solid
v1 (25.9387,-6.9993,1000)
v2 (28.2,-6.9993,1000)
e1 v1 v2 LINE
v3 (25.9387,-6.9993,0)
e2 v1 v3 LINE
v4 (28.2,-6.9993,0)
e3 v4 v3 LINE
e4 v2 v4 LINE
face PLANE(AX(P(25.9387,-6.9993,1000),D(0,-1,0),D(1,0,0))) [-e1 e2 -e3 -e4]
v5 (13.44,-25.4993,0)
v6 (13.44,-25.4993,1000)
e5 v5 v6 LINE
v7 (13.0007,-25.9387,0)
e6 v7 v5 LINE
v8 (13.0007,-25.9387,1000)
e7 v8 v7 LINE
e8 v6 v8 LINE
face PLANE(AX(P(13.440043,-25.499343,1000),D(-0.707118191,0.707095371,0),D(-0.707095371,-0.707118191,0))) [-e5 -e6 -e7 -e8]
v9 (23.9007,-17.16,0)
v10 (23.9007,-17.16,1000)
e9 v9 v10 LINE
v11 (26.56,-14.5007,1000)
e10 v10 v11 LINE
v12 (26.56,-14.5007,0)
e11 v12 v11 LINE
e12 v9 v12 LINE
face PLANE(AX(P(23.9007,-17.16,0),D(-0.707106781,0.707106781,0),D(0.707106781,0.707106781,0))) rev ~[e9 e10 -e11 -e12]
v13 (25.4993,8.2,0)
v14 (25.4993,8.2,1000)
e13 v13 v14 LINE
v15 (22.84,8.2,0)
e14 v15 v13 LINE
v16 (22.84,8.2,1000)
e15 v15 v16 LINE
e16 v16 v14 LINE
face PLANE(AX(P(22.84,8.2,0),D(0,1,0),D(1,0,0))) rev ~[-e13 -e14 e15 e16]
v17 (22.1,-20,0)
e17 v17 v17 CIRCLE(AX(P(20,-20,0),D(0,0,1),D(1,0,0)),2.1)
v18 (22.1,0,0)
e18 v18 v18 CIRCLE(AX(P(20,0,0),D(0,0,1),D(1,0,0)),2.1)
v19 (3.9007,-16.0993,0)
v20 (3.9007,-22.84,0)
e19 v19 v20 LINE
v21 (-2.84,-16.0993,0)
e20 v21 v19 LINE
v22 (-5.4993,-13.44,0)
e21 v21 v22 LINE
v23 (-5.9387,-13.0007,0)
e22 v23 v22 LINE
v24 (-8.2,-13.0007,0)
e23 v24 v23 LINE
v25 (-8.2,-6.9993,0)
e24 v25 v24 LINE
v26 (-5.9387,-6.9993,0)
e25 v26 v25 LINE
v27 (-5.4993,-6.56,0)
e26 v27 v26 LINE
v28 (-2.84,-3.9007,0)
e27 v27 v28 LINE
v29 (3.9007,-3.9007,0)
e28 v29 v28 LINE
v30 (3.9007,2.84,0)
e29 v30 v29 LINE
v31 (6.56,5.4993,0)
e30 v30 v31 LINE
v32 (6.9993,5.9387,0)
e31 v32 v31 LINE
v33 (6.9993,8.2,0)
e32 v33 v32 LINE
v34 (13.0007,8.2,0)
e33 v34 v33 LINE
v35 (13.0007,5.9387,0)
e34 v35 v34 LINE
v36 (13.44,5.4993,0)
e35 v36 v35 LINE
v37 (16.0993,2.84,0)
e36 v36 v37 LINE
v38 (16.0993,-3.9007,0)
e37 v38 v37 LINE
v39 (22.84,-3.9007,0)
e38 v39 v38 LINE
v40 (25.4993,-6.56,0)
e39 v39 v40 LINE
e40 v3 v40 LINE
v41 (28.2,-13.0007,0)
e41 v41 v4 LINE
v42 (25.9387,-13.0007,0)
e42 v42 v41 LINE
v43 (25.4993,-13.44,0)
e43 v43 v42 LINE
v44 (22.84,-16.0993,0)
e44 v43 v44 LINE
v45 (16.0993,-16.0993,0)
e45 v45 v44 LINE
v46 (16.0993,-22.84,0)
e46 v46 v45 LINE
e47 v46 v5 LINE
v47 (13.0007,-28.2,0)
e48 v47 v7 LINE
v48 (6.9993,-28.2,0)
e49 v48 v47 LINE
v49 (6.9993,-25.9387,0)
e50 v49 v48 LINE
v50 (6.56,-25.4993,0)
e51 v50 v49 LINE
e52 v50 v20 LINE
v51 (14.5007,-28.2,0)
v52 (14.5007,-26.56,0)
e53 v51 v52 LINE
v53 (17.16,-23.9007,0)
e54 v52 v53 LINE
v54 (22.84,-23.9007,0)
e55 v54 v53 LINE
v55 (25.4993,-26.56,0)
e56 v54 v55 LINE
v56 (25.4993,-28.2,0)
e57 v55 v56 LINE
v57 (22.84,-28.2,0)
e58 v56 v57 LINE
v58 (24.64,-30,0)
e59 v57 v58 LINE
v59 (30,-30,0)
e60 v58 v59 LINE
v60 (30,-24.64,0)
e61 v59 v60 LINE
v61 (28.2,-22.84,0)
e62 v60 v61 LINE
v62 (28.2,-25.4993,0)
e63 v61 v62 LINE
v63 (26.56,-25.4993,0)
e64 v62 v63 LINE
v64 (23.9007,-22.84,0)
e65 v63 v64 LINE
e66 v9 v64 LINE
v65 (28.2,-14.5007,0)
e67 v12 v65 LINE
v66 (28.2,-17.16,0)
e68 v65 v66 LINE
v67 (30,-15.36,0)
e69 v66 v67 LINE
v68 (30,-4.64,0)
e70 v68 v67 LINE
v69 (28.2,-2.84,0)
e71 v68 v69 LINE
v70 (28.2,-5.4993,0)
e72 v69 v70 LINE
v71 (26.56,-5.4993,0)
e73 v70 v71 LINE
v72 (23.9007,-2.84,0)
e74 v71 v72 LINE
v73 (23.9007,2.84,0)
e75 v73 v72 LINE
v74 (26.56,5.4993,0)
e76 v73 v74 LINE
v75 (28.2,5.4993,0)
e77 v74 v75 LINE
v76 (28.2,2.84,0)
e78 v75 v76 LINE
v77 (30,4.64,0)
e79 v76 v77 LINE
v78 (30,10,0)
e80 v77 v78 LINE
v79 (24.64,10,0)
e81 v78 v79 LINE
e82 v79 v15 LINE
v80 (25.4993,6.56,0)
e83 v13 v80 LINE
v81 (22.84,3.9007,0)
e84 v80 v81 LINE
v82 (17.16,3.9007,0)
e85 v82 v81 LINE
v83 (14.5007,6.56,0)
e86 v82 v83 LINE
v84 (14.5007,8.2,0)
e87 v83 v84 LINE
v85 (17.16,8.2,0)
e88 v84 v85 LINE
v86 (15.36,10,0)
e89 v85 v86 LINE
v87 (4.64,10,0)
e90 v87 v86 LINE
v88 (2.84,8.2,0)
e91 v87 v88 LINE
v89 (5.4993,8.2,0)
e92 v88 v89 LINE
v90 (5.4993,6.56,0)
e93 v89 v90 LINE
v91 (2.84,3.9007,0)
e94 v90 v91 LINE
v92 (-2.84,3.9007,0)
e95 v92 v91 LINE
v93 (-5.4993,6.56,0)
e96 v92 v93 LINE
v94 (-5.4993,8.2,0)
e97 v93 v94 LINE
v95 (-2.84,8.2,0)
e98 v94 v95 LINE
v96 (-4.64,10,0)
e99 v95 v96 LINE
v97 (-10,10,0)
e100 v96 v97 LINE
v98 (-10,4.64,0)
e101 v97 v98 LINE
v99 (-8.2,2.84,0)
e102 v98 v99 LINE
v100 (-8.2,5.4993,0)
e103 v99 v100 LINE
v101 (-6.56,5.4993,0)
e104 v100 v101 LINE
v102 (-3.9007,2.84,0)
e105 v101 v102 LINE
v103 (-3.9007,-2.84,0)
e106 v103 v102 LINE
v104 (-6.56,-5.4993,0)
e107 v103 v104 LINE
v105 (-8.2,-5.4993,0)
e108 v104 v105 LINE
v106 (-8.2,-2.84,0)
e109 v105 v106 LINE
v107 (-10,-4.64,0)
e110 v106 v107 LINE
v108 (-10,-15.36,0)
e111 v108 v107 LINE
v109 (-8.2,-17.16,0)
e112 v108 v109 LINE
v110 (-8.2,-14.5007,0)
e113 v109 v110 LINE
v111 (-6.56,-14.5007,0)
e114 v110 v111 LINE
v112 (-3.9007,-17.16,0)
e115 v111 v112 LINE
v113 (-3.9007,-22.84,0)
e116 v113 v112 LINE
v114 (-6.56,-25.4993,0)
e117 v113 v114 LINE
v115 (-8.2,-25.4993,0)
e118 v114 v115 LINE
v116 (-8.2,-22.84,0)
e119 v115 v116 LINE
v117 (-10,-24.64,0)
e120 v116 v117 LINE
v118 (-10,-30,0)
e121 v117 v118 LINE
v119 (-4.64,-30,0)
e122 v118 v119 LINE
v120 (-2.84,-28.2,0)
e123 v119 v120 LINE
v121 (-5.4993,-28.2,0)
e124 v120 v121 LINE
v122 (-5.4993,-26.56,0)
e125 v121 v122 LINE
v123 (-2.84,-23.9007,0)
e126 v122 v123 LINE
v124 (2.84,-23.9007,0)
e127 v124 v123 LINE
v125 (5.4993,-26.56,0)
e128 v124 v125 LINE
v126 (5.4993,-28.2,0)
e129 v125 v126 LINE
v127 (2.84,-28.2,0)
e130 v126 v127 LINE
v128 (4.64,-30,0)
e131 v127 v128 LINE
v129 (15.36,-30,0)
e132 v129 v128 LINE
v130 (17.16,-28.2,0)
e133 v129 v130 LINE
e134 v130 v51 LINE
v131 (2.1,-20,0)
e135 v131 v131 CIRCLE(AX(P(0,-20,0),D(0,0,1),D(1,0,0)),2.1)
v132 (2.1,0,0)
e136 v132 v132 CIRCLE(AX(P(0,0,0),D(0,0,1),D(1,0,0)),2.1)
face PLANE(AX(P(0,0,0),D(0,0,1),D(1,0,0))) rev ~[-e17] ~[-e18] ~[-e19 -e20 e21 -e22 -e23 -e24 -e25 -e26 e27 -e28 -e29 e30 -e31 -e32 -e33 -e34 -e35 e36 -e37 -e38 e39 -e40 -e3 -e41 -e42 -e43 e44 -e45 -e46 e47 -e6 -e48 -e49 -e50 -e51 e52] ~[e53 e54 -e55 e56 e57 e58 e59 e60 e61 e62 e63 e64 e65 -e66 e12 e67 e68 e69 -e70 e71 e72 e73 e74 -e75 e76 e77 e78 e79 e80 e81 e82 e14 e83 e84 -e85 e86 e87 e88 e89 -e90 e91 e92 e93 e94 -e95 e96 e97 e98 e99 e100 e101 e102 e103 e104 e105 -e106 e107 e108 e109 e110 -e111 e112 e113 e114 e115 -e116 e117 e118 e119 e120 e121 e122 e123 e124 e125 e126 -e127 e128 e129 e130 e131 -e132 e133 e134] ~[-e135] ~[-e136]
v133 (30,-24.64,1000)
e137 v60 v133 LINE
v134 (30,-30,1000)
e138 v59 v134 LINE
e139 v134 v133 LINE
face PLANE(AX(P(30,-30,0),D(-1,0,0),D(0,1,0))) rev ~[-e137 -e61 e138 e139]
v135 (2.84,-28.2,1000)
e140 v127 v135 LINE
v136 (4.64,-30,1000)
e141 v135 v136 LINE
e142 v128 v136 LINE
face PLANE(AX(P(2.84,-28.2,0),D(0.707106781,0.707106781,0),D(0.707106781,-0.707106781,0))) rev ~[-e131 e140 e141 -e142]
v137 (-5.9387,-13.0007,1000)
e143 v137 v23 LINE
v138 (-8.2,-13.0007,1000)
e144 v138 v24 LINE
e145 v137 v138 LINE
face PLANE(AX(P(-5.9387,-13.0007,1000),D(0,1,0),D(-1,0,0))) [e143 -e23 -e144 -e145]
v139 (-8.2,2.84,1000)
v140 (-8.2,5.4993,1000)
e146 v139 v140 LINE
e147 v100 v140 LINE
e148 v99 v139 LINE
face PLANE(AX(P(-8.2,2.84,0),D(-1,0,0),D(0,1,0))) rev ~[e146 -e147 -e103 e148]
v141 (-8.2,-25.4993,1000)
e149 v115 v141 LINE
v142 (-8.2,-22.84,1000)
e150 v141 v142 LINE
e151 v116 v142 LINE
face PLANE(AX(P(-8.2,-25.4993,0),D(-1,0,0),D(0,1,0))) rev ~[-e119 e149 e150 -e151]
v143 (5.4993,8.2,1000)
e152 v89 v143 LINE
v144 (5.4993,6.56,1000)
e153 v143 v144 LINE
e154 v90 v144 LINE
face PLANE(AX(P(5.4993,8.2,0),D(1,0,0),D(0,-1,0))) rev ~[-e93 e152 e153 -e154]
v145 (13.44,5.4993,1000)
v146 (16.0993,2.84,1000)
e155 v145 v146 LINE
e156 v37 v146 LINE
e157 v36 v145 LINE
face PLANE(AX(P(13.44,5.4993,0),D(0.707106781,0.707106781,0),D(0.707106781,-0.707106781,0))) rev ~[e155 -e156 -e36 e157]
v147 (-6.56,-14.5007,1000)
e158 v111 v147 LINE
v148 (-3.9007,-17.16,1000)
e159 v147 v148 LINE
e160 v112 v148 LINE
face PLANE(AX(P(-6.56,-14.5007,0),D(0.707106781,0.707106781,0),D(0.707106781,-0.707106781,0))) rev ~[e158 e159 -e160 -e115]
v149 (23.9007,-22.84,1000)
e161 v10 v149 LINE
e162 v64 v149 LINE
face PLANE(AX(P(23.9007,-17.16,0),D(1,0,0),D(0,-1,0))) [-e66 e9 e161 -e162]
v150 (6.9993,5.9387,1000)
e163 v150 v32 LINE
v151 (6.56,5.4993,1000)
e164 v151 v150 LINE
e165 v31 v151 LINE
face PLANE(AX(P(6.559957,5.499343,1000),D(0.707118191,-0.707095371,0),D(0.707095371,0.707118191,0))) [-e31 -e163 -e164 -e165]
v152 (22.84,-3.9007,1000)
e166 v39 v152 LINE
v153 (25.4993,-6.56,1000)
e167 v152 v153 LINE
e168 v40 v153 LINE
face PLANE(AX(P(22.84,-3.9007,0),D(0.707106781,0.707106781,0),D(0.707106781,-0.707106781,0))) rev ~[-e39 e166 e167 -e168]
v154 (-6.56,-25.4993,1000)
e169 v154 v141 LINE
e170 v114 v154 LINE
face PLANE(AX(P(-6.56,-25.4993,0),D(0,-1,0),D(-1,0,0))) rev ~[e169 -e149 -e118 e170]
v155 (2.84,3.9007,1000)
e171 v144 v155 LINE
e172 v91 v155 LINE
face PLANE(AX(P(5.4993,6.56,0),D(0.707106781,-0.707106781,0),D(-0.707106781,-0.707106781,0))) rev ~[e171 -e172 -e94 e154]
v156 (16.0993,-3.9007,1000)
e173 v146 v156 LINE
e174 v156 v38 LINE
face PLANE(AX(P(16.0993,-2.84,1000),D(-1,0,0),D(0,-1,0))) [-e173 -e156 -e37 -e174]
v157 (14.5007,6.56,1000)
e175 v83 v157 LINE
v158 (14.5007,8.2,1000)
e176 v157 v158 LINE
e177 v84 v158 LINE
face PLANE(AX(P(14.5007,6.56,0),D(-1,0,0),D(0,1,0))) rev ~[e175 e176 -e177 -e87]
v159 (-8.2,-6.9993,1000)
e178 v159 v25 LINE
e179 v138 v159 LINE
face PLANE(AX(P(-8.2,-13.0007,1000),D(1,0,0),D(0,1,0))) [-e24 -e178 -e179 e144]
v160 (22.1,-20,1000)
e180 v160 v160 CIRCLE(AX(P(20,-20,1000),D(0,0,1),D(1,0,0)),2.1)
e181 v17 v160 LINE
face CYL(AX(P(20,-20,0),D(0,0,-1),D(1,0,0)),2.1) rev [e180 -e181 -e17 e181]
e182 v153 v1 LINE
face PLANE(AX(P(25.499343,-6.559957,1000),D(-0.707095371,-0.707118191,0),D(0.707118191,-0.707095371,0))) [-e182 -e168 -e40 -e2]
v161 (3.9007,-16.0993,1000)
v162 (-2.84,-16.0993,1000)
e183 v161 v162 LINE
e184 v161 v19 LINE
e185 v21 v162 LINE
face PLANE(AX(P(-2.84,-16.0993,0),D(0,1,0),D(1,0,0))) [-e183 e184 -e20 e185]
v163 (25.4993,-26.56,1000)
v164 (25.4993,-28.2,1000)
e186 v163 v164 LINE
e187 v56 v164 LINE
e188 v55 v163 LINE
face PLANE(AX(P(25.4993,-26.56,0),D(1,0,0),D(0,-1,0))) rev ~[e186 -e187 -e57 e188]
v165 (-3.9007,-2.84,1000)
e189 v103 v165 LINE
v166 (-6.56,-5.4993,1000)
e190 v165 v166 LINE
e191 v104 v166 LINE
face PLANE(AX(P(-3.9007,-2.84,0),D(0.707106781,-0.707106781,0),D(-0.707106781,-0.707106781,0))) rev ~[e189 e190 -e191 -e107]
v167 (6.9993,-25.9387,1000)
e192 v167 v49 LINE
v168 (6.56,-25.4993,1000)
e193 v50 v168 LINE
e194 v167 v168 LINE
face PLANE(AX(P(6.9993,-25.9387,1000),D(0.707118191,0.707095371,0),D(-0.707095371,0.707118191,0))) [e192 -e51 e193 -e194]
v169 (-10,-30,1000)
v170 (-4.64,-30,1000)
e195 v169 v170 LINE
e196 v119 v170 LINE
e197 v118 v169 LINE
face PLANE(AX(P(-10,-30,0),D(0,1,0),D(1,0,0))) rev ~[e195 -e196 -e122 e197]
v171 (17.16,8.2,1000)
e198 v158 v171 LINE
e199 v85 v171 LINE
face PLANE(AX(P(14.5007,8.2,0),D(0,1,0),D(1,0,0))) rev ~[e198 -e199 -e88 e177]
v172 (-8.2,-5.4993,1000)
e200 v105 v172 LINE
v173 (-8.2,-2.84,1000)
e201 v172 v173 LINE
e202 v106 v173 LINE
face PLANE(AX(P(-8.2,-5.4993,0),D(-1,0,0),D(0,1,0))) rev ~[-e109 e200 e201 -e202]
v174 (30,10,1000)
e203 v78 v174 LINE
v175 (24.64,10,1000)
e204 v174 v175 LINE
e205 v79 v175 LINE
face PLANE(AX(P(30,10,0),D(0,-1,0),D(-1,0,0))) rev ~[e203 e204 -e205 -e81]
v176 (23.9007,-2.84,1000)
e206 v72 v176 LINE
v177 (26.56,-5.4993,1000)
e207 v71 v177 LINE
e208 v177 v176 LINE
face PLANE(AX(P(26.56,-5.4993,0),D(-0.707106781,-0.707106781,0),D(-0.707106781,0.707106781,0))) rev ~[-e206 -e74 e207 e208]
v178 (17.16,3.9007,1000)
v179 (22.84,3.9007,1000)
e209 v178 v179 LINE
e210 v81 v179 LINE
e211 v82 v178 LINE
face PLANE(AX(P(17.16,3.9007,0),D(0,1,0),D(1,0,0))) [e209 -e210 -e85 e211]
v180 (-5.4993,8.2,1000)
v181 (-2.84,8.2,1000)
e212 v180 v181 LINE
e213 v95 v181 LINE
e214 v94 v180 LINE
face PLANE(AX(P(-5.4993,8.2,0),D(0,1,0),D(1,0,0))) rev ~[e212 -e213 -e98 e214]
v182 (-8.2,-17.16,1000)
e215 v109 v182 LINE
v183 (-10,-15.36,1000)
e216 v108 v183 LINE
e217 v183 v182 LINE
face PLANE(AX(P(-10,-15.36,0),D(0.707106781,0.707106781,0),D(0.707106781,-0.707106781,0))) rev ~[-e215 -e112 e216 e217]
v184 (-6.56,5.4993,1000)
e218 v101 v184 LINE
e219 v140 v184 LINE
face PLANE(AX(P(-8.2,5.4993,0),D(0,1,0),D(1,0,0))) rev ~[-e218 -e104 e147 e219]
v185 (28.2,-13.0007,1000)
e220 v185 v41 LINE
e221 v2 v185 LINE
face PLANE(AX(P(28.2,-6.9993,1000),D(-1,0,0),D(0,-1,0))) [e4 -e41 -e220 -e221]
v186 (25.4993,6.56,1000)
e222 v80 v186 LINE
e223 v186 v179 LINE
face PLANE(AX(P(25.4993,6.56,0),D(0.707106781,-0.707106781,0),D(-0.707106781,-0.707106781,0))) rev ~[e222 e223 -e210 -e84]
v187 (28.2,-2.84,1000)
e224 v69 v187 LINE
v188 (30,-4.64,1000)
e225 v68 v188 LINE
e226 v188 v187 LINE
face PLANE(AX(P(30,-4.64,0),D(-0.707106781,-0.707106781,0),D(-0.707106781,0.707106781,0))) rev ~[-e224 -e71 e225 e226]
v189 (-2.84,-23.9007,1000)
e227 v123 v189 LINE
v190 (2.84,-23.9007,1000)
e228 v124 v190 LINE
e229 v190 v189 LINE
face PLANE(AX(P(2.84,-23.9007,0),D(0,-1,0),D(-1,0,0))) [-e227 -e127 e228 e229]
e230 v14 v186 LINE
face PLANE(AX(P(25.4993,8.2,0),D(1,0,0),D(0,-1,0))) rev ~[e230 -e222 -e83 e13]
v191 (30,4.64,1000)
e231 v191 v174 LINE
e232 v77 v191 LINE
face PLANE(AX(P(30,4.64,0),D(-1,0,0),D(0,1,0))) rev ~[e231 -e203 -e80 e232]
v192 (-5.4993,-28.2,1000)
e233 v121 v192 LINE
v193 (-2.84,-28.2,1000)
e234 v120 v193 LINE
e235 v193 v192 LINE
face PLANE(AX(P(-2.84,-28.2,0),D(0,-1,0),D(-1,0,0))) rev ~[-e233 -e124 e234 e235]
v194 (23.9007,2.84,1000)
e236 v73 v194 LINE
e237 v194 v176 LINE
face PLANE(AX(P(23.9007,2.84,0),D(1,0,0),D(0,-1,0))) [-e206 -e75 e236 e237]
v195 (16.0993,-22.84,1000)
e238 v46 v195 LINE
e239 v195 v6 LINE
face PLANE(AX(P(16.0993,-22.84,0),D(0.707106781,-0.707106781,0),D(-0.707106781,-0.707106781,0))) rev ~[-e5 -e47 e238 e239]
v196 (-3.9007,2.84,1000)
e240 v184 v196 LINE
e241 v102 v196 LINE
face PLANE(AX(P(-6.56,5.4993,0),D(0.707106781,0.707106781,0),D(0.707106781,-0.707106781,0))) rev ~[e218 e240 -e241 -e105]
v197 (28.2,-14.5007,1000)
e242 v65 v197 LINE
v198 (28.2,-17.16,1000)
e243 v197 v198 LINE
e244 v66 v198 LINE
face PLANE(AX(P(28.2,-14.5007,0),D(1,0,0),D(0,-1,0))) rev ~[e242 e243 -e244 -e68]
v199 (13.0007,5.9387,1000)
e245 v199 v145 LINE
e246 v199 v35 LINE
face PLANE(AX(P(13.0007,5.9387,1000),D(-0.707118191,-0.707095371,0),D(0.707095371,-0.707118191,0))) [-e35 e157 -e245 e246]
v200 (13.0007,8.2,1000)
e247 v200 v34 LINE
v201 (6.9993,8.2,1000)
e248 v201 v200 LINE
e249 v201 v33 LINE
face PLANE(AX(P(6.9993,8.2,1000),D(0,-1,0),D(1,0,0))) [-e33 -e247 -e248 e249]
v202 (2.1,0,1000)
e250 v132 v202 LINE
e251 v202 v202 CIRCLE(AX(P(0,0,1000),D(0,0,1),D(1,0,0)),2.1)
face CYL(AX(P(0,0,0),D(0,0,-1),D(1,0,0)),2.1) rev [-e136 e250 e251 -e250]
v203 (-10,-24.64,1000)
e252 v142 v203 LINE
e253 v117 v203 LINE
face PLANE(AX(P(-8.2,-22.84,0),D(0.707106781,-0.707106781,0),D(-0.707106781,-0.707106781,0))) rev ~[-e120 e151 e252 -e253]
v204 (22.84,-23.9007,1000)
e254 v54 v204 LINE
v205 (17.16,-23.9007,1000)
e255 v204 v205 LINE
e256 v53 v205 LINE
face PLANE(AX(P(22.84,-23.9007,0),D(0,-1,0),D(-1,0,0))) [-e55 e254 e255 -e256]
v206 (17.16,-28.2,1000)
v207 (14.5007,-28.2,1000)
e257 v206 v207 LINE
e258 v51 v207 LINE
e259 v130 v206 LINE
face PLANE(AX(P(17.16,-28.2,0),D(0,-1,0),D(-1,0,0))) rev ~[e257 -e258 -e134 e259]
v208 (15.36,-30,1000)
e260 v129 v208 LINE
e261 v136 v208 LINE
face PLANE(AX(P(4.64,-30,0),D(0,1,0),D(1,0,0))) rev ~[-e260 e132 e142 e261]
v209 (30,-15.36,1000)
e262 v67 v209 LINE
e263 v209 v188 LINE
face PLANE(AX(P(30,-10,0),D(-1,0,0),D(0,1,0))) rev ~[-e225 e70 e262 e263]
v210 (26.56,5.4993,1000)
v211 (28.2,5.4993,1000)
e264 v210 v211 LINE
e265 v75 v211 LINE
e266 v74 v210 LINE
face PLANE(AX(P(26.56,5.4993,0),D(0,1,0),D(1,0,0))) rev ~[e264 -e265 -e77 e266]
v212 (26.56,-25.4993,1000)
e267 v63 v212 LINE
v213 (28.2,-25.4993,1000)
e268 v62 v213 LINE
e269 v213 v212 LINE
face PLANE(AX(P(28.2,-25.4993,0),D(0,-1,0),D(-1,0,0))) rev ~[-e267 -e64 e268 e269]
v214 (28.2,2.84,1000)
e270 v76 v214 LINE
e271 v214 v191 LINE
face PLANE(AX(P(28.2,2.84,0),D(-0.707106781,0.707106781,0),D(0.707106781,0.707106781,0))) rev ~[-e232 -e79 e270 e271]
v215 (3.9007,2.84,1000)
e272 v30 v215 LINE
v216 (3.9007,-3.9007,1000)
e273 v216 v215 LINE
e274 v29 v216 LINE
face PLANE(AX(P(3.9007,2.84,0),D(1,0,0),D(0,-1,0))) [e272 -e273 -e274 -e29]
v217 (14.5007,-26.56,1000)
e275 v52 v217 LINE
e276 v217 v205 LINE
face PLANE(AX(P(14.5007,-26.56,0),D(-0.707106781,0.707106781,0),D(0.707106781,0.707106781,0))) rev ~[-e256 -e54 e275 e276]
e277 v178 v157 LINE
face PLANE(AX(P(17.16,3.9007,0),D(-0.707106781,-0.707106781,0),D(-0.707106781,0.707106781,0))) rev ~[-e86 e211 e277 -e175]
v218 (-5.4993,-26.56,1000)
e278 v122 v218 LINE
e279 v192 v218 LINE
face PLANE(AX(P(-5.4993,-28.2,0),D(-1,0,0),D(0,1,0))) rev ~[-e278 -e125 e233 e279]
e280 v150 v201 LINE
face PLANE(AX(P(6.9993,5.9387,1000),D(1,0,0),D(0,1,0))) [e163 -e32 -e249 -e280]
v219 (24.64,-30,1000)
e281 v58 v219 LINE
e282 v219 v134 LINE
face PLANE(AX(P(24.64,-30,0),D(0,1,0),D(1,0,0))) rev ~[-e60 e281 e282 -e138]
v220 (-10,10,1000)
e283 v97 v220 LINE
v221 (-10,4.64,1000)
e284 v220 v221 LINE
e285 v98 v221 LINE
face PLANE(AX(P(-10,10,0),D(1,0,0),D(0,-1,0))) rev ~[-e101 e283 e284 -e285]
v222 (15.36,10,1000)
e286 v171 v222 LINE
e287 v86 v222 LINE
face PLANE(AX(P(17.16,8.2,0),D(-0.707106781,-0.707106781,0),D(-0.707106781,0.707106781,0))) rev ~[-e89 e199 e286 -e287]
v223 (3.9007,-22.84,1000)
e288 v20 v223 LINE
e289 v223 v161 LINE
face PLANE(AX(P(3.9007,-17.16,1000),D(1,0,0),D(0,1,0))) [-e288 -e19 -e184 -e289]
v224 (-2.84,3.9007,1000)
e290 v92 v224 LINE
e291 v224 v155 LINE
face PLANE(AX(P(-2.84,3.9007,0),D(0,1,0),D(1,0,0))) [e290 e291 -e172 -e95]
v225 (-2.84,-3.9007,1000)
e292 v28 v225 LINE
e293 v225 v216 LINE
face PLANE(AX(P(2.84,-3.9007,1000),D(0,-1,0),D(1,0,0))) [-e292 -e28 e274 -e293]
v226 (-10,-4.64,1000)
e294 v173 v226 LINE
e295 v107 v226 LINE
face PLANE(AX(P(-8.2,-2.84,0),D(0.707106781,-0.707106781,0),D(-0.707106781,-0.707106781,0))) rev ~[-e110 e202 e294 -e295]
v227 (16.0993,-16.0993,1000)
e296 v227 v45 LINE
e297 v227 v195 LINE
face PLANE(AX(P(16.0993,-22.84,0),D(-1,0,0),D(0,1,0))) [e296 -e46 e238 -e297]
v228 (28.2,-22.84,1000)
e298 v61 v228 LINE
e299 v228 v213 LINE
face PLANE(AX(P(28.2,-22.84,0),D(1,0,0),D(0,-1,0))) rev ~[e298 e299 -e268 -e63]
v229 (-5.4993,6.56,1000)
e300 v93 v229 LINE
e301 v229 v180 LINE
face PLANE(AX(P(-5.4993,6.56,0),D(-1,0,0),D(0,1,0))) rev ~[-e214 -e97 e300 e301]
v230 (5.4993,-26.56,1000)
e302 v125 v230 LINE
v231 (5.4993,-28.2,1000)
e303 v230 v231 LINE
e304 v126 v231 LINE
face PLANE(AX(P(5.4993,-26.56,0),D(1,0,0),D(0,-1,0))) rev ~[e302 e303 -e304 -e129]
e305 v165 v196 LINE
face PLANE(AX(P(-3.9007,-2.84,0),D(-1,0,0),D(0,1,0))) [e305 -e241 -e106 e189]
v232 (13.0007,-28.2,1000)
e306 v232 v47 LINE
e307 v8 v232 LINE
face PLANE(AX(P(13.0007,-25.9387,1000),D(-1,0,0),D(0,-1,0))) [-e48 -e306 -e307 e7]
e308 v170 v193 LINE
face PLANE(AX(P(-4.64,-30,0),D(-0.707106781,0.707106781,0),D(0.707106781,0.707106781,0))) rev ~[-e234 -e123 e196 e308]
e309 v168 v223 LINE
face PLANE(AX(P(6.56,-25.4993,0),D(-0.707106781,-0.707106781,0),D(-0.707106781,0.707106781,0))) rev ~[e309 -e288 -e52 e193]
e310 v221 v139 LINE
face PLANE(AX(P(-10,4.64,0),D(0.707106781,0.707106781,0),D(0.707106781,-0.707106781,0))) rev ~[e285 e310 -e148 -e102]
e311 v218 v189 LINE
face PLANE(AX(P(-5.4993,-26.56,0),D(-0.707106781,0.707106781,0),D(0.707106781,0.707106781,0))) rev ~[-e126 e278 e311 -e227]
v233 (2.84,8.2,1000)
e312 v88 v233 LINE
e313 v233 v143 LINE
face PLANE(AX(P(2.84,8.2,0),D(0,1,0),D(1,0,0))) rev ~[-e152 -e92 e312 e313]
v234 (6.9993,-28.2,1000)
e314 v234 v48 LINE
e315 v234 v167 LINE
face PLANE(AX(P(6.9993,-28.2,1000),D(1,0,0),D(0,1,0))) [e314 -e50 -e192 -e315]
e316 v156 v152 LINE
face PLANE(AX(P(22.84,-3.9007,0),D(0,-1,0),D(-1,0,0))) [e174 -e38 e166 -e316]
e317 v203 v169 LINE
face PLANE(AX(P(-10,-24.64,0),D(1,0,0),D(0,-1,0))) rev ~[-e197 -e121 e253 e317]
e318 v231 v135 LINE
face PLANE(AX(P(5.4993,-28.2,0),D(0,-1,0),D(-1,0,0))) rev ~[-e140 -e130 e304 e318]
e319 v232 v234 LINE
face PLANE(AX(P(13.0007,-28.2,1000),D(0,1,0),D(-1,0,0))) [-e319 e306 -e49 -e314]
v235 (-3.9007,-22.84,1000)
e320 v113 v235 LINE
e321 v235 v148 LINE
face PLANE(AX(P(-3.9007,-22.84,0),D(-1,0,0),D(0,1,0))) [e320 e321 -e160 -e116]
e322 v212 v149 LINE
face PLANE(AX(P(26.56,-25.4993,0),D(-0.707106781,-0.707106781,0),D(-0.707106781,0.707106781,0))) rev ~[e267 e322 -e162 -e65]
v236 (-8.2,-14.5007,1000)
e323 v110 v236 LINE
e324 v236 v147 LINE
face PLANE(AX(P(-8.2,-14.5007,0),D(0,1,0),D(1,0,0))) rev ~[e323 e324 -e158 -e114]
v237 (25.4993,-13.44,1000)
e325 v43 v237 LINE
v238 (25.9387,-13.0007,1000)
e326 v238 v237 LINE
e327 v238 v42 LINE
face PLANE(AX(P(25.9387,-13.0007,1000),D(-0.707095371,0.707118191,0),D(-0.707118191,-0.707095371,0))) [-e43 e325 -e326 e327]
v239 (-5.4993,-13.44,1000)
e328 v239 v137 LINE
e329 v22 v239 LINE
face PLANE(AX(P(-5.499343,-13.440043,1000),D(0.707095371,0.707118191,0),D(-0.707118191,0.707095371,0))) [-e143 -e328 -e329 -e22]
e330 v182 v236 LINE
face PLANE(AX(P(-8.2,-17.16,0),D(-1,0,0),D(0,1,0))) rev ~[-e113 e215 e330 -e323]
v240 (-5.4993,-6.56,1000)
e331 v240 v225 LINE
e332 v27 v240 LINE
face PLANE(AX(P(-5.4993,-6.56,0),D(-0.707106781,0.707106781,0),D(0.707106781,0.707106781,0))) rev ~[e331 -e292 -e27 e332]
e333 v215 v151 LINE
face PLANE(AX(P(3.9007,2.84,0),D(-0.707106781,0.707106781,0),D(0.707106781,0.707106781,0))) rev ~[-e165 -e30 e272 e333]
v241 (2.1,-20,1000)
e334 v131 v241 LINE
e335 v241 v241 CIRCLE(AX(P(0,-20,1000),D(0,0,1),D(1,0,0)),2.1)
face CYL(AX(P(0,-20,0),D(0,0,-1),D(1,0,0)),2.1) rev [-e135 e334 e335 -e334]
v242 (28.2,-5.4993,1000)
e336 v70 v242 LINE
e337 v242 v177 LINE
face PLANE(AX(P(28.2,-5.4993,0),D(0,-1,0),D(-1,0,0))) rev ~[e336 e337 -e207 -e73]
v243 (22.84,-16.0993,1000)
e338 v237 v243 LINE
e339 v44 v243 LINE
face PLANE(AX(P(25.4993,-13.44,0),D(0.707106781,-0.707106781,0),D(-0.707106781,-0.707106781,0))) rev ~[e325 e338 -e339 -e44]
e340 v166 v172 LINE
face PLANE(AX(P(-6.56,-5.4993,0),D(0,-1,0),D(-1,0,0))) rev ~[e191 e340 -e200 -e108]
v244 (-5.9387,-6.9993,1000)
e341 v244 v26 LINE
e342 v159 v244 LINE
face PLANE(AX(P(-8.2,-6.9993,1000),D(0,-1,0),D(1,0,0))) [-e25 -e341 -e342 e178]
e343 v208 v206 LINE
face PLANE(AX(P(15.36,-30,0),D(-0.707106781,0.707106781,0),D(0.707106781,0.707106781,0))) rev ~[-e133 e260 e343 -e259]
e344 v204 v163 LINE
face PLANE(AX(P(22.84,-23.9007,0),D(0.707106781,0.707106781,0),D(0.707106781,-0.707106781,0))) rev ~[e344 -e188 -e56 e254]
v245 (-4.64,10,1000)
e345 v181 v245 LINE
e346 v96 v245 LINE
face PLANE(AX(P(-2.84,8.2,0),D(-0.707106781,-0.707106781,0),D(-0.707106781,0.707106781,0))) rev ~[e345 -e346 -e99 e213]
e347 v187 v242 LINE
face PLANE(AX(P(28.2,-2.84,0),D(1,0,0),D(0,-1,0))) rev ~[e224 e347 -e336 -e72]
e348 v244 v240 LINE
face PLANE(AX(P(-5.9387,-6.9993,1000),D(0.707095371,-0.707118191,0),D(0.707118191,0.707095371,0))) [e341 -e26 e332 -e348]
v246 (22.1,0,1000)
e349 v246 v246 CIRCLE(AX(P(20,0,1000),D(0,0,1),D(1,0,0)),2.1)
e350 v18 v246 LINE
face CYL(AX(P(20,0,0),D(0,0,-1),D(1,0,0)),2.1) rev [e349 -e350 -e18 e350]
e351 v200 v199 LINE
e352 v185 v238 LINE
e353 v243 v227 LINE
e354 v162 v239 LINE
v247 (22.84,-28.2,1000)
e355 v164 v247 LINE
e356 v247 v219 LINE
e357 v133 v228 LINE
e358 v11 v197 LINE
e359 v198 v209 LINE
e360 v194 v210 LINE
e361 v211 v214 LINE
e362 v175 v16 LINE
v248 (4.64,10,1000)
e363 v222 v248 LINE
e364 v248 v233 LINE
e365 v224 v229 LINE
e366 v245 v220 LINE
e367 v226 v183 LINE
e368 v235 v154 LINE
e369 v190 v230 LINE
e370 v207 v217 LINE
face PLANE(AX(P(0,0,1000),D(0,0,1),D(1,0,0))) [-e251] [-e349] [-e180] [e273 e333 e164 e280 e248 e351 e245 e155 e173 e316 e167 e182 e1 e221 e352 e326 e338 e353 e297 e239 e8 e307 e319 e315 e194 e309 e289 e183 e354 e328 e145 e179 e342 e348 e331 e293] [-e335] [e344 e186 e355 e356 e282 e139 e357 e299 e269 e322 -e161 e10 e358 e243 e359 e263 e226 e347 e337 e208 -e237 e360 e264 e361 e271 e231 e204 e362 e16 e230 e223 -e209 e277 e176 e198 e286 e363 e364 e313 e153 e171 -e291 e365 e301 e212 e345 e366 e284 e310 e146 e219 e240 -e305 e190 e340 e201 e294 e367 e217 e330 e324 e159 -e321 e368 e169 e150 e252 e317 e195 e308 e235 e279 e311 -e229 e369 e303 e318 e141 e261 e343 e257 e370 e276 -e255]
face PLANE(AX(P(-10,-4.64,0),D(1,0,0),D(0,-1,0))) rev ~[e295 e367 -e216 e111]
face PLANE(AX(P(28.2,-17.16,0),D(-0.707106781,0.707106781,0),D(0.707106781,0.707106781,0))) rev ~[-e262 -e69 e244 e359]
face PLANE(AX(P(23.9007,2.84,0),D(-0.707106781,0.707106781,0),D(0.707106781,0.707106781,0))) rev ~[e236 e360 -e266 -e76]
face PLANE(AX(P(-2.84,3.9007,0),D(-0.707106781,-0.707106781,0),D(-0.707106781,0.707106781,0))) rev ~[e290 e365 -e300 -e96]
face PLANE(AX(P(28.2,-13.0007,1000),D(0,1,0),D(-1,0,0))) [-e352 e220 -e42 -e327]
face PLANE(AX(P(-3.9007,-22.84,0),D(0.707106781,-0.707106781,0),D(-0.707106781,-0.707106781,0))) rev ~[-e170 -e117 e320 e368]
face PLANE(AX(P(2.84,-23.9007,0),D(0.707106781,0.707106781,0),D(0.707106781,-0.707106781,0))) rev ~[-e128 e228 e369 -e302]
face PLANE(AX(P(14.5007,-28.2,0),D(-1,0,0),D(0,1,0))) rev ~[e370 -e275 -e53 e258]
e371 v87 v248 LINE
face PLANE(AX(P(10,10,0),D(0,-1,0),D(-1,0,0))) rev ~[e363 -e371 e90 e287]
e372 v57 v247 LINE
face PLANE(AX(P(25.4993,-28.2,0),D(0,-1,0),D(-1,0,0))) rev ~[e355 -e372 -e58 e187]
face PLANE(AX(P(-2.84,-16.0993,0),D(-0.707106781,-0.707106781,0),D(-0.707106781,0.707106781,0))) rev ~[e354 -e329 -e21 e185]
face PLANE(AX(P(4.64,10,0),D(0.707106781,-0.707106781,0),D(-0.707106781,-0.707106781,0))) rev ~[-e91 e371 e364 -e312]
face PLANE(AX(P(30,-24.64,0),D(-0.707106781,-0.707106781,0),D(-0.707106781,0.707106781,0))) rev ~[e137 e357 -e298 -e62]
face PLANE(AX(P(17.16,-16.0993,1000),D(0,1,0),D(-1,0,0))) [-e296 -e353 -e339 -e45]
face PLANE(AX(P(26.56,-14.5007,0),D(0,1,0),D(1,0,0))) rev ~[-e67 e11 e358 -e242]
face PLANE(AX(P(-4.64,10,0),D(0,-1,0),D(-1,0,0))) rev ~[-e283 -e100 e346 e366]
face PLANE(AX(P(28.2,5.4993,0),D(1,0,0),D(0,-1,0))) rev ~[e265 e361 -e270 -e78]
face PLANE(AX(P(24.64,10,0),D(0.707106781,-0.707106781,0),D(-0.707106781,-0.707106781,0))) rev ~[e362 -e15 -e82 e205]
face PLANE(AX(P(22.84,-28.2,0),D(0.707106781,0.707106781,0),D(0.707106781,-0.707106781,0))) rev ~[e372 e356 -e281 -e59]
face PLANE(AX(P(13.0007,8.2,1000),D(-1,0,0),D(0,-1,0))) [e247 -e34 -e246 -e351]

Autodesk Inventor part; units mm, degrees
ref_plane "YZ Plane" through (0, 0, 0) normal (1, 0, 0) x (0, 1, 0)
ref_plane "XZ Plane" through (0, 0, 0) normal (0, 1, 0) x (-1, 0, 0)
ref_plane "XY Plane" through (0, 0, 0) normal (0, 0, 1) x (1, 0, 0)
sketch "Sketch1" plane through (0, 0, 0) normal (0, 0, 1) x (1, 0, 0)
  line L0 (-3.9007, 3.9007) -> (3.9007, 3.9007)
  line L1 (3.9007, 3.9007) -> (3.9007, -3.9007)
  line L2 (3.9007, -3.9007) -> (-3.9007, -3.9007)
  line L3 (-3.9007, -3.9007) -> (-3.9007, 3.9007)
  line L4 (0, 3.9007) -> (0, -3.9007) construction
  line L5 (-3.9007, 0) -> (3.9007, 0) construction
  circle A0 centre (0, 0) radius 2.1
  line L6 (0, 0) -> (-16.1173, 16.1173) construction
  line L7 (0, 0) -> (22.7933, 0) construction
  line L8 (-2.84, 3.9007) -> (-5.4993, 6.56)
  line L9 (-5.4993, 6.56) -> (-5.4993, 8.2)
  line L10 (-5.4993, 8.2) -> (-2.84, 8.2)
  line L11 (-2.84, 8.2) -> (-4.64, 10)
  line L12 (-4.64, 10) -> (-10, 10)
  line L13 (-10, 10) -> (-10, 4.64)
  line L14 (-10, 4.64) -> (-8.2, 2.84)
  line L15 (-8.2, 2.84) -> (-8.2, 5.4993)
  line L16 (-8.2, 5.4993) -> (-6.56, 5.4993)
  line L17 (-6.56, 5.4993) -> (-3.9007, 2.84)
  line L18 (-3.9007, 2.84) -> (-11.3102, 2.84) construction
  line L19 (-2.84, 3.9007) -> (-3.9007, 3.9007)
  line L20 (-3.9007, 2.84) -> (-3.9007, 3.9007)
  line L21 (-3.9007, -2.84) -> (-6.56, -5.4993)
  line L22 (-6.56, -5.4993) -> (-8.2, -5.4993)
  line L23 (-8.2, -5.4993) -> (-8.2, -2.84)
  line L24 (-8.2, -2.84) -> (-10, -4.64)
  line L25 (-10, -4.64) -> (-10, -10)
  line L26 (-10, -10) -> (-4.64, -10)
  line L27 (-4.64, -10) -> (-2.84, -8.2)
  line L28 (-2.84, -8.2) -> (-5.4993, -8.2)
  line L29 (-5.4993, -8.2) -> (-5.4993, -6.56)
  line L30 (-5.4993, -6.56) -> (-2.84, -3.9007)
  line L31 (-3.9007, -2.84) -> (-3.9007, -3.9007)
  line L32 (-2.84, -3.9007) -> (-3.9007, -3.9007)
  line L33 (2.84, -3.9007) -> (5.4993, -6.56)
  line L34 (5.4993, -6.56) -> (5.4993, -8.2)
  line L35 (5.4993, -8.2) -> (2.84, -8.2)
  line L36 (2.84, -8.2) -> (4.64, -10)
  line L37 (4.64, -10) -> (10, -10)
  line L38 (10, -10) -> (10, -4.64)
  line L39 (10, -4.64) -> (8.2, -2.84)
  line L40 (8.2, -2.84) -> (8.2, -5.4993)
  line L41 (8.2, -5.4993) -> (6.56, -5.4993)
  line L42 (6.56, -5.4993) -> (3.9007, -2.84)
  line L43 (2.84, -3.9007) -> (3.9007, -3.9007)
  line L44 (3.9007, -2.84) -> (3.9007, -3.9007)
  line L45 (3.9007, 2.84) -> (6.56, 5.4993)
  line L46 (6.56, 5.4993) -> (8.2, 5.4993)
  line L47 (8.2, 5.4993) -> (8.2, 2.84)
  line L48 (8.2, 2.84) -> (10, 4.64)
  line L49 (10, 4.64) -> (10, 10)
  line L50 (10, 10) -> (4.64, 10)
  line L51 (4.64, 10) -> (2.84, 8.2)
  line L52 (2.84, 8.2) -> (5.4993, 8.2)
  line L53 (5.4993, 8.2) -> (5.4993, 6.56)
  line L54 (5.4993, 6.56) -> (2.84, 3.9007)
  line L55 (3.9007, 2.84) -> (3.9007, 3.9007)
  line L56 (2.84, 3.9007) -> (3.9007, 3.9007)
  dimension "d7" = 4.2
  dimension "d8" = 135
  dimension "d9" = 1.5
  dimension "d10" = 1.64
  dimension "d11" = 1.8
  dimension "d12" = 2.84
  dimension "d13" = 10
  dimension "d16" = 360
extrude "Extrusion1" add sketch "Sketch1" along normal blind 1000
pattern_linear "Rectangular Pattern1" count 2 spacing 20 along (0, -1, 0) count 2 spacing 20 along (1, 0, 0) of "Extrusion1"
sketch "Sketch2" plane through (0, 0, 1000) normal (0, 0, 1) x (1, 0, 0)
  line L0 (-6.56, -5.4993) -> (-8.2, -5.4993) projected
  line L1 (-8.2, -5.4993) -> (-8.2, -2.84) projected
  line L2 (-8.2, -14.5007) -> (-6.56, -14.5007) projected
  line L3 (5.4993, -11.8) -> (5.4993, -13.44) projected
  line L4 (-2.84, -16.0993) -> (-5.4993, -13.44) projected
  line L5 (-5.4993, -8.2) -> (-5.4993, -6.56) projected
  line L6 (-5.4993, -6.56) -> (-2.84, -3.9007) projected
  line L7 (2.84, -8.2) -> (4.64, -10) projected
  line L8 (-8.2, -6.9993) -> (-5.9387, -6.9993)
  line L9 (-5.9387, -6.9993) -> (-2.84, -3.9007)
  line L10 (-2.84, -3.9007) -> (12.9258, -3.9007)
  line L11 (12.9258, -16.0993) -> (-2.84, -16.0993)
  line L12 (-2.84, -16.0993) -> (-5.9387, -13.0007)
  line L13 (-5.9387, -13.0007) -> (-8.2, -13.0007)
  line L14 (-8.2, -13.0007) -> (-8.2, -6.9993)
  line L15 (2.84, -16.0993) -> (-2.84, -16.0993) projected
  line L16 (-2.84, -3.9007) -> (2.84, -3.9007) projected
  line L17 (12.9258, -16.0993) -> (12.9258, -3.9007)
  dimension "d23" = 1.5
  dimension "d26" = 1.5
extrude "Extrusion2" cut sketch "Sketch2" against normal up to next
ref_plane "Work Plane1" through (10, -15.36, 0) normal (1, 0, 0) x (0, 0, -1)
ref_plane "Work Plane2" through (4.64, -10, 1000) normal (0, 1, 0) x (1, 0, 0)
pattern_circular "Circular Pattern1" count 4 over 360 about axis through (10, -10, 0) along (0, 0, 1) of "Extrusion2"
equation "\"d26\" = d23"
properties part number "40x40x1000mm"
